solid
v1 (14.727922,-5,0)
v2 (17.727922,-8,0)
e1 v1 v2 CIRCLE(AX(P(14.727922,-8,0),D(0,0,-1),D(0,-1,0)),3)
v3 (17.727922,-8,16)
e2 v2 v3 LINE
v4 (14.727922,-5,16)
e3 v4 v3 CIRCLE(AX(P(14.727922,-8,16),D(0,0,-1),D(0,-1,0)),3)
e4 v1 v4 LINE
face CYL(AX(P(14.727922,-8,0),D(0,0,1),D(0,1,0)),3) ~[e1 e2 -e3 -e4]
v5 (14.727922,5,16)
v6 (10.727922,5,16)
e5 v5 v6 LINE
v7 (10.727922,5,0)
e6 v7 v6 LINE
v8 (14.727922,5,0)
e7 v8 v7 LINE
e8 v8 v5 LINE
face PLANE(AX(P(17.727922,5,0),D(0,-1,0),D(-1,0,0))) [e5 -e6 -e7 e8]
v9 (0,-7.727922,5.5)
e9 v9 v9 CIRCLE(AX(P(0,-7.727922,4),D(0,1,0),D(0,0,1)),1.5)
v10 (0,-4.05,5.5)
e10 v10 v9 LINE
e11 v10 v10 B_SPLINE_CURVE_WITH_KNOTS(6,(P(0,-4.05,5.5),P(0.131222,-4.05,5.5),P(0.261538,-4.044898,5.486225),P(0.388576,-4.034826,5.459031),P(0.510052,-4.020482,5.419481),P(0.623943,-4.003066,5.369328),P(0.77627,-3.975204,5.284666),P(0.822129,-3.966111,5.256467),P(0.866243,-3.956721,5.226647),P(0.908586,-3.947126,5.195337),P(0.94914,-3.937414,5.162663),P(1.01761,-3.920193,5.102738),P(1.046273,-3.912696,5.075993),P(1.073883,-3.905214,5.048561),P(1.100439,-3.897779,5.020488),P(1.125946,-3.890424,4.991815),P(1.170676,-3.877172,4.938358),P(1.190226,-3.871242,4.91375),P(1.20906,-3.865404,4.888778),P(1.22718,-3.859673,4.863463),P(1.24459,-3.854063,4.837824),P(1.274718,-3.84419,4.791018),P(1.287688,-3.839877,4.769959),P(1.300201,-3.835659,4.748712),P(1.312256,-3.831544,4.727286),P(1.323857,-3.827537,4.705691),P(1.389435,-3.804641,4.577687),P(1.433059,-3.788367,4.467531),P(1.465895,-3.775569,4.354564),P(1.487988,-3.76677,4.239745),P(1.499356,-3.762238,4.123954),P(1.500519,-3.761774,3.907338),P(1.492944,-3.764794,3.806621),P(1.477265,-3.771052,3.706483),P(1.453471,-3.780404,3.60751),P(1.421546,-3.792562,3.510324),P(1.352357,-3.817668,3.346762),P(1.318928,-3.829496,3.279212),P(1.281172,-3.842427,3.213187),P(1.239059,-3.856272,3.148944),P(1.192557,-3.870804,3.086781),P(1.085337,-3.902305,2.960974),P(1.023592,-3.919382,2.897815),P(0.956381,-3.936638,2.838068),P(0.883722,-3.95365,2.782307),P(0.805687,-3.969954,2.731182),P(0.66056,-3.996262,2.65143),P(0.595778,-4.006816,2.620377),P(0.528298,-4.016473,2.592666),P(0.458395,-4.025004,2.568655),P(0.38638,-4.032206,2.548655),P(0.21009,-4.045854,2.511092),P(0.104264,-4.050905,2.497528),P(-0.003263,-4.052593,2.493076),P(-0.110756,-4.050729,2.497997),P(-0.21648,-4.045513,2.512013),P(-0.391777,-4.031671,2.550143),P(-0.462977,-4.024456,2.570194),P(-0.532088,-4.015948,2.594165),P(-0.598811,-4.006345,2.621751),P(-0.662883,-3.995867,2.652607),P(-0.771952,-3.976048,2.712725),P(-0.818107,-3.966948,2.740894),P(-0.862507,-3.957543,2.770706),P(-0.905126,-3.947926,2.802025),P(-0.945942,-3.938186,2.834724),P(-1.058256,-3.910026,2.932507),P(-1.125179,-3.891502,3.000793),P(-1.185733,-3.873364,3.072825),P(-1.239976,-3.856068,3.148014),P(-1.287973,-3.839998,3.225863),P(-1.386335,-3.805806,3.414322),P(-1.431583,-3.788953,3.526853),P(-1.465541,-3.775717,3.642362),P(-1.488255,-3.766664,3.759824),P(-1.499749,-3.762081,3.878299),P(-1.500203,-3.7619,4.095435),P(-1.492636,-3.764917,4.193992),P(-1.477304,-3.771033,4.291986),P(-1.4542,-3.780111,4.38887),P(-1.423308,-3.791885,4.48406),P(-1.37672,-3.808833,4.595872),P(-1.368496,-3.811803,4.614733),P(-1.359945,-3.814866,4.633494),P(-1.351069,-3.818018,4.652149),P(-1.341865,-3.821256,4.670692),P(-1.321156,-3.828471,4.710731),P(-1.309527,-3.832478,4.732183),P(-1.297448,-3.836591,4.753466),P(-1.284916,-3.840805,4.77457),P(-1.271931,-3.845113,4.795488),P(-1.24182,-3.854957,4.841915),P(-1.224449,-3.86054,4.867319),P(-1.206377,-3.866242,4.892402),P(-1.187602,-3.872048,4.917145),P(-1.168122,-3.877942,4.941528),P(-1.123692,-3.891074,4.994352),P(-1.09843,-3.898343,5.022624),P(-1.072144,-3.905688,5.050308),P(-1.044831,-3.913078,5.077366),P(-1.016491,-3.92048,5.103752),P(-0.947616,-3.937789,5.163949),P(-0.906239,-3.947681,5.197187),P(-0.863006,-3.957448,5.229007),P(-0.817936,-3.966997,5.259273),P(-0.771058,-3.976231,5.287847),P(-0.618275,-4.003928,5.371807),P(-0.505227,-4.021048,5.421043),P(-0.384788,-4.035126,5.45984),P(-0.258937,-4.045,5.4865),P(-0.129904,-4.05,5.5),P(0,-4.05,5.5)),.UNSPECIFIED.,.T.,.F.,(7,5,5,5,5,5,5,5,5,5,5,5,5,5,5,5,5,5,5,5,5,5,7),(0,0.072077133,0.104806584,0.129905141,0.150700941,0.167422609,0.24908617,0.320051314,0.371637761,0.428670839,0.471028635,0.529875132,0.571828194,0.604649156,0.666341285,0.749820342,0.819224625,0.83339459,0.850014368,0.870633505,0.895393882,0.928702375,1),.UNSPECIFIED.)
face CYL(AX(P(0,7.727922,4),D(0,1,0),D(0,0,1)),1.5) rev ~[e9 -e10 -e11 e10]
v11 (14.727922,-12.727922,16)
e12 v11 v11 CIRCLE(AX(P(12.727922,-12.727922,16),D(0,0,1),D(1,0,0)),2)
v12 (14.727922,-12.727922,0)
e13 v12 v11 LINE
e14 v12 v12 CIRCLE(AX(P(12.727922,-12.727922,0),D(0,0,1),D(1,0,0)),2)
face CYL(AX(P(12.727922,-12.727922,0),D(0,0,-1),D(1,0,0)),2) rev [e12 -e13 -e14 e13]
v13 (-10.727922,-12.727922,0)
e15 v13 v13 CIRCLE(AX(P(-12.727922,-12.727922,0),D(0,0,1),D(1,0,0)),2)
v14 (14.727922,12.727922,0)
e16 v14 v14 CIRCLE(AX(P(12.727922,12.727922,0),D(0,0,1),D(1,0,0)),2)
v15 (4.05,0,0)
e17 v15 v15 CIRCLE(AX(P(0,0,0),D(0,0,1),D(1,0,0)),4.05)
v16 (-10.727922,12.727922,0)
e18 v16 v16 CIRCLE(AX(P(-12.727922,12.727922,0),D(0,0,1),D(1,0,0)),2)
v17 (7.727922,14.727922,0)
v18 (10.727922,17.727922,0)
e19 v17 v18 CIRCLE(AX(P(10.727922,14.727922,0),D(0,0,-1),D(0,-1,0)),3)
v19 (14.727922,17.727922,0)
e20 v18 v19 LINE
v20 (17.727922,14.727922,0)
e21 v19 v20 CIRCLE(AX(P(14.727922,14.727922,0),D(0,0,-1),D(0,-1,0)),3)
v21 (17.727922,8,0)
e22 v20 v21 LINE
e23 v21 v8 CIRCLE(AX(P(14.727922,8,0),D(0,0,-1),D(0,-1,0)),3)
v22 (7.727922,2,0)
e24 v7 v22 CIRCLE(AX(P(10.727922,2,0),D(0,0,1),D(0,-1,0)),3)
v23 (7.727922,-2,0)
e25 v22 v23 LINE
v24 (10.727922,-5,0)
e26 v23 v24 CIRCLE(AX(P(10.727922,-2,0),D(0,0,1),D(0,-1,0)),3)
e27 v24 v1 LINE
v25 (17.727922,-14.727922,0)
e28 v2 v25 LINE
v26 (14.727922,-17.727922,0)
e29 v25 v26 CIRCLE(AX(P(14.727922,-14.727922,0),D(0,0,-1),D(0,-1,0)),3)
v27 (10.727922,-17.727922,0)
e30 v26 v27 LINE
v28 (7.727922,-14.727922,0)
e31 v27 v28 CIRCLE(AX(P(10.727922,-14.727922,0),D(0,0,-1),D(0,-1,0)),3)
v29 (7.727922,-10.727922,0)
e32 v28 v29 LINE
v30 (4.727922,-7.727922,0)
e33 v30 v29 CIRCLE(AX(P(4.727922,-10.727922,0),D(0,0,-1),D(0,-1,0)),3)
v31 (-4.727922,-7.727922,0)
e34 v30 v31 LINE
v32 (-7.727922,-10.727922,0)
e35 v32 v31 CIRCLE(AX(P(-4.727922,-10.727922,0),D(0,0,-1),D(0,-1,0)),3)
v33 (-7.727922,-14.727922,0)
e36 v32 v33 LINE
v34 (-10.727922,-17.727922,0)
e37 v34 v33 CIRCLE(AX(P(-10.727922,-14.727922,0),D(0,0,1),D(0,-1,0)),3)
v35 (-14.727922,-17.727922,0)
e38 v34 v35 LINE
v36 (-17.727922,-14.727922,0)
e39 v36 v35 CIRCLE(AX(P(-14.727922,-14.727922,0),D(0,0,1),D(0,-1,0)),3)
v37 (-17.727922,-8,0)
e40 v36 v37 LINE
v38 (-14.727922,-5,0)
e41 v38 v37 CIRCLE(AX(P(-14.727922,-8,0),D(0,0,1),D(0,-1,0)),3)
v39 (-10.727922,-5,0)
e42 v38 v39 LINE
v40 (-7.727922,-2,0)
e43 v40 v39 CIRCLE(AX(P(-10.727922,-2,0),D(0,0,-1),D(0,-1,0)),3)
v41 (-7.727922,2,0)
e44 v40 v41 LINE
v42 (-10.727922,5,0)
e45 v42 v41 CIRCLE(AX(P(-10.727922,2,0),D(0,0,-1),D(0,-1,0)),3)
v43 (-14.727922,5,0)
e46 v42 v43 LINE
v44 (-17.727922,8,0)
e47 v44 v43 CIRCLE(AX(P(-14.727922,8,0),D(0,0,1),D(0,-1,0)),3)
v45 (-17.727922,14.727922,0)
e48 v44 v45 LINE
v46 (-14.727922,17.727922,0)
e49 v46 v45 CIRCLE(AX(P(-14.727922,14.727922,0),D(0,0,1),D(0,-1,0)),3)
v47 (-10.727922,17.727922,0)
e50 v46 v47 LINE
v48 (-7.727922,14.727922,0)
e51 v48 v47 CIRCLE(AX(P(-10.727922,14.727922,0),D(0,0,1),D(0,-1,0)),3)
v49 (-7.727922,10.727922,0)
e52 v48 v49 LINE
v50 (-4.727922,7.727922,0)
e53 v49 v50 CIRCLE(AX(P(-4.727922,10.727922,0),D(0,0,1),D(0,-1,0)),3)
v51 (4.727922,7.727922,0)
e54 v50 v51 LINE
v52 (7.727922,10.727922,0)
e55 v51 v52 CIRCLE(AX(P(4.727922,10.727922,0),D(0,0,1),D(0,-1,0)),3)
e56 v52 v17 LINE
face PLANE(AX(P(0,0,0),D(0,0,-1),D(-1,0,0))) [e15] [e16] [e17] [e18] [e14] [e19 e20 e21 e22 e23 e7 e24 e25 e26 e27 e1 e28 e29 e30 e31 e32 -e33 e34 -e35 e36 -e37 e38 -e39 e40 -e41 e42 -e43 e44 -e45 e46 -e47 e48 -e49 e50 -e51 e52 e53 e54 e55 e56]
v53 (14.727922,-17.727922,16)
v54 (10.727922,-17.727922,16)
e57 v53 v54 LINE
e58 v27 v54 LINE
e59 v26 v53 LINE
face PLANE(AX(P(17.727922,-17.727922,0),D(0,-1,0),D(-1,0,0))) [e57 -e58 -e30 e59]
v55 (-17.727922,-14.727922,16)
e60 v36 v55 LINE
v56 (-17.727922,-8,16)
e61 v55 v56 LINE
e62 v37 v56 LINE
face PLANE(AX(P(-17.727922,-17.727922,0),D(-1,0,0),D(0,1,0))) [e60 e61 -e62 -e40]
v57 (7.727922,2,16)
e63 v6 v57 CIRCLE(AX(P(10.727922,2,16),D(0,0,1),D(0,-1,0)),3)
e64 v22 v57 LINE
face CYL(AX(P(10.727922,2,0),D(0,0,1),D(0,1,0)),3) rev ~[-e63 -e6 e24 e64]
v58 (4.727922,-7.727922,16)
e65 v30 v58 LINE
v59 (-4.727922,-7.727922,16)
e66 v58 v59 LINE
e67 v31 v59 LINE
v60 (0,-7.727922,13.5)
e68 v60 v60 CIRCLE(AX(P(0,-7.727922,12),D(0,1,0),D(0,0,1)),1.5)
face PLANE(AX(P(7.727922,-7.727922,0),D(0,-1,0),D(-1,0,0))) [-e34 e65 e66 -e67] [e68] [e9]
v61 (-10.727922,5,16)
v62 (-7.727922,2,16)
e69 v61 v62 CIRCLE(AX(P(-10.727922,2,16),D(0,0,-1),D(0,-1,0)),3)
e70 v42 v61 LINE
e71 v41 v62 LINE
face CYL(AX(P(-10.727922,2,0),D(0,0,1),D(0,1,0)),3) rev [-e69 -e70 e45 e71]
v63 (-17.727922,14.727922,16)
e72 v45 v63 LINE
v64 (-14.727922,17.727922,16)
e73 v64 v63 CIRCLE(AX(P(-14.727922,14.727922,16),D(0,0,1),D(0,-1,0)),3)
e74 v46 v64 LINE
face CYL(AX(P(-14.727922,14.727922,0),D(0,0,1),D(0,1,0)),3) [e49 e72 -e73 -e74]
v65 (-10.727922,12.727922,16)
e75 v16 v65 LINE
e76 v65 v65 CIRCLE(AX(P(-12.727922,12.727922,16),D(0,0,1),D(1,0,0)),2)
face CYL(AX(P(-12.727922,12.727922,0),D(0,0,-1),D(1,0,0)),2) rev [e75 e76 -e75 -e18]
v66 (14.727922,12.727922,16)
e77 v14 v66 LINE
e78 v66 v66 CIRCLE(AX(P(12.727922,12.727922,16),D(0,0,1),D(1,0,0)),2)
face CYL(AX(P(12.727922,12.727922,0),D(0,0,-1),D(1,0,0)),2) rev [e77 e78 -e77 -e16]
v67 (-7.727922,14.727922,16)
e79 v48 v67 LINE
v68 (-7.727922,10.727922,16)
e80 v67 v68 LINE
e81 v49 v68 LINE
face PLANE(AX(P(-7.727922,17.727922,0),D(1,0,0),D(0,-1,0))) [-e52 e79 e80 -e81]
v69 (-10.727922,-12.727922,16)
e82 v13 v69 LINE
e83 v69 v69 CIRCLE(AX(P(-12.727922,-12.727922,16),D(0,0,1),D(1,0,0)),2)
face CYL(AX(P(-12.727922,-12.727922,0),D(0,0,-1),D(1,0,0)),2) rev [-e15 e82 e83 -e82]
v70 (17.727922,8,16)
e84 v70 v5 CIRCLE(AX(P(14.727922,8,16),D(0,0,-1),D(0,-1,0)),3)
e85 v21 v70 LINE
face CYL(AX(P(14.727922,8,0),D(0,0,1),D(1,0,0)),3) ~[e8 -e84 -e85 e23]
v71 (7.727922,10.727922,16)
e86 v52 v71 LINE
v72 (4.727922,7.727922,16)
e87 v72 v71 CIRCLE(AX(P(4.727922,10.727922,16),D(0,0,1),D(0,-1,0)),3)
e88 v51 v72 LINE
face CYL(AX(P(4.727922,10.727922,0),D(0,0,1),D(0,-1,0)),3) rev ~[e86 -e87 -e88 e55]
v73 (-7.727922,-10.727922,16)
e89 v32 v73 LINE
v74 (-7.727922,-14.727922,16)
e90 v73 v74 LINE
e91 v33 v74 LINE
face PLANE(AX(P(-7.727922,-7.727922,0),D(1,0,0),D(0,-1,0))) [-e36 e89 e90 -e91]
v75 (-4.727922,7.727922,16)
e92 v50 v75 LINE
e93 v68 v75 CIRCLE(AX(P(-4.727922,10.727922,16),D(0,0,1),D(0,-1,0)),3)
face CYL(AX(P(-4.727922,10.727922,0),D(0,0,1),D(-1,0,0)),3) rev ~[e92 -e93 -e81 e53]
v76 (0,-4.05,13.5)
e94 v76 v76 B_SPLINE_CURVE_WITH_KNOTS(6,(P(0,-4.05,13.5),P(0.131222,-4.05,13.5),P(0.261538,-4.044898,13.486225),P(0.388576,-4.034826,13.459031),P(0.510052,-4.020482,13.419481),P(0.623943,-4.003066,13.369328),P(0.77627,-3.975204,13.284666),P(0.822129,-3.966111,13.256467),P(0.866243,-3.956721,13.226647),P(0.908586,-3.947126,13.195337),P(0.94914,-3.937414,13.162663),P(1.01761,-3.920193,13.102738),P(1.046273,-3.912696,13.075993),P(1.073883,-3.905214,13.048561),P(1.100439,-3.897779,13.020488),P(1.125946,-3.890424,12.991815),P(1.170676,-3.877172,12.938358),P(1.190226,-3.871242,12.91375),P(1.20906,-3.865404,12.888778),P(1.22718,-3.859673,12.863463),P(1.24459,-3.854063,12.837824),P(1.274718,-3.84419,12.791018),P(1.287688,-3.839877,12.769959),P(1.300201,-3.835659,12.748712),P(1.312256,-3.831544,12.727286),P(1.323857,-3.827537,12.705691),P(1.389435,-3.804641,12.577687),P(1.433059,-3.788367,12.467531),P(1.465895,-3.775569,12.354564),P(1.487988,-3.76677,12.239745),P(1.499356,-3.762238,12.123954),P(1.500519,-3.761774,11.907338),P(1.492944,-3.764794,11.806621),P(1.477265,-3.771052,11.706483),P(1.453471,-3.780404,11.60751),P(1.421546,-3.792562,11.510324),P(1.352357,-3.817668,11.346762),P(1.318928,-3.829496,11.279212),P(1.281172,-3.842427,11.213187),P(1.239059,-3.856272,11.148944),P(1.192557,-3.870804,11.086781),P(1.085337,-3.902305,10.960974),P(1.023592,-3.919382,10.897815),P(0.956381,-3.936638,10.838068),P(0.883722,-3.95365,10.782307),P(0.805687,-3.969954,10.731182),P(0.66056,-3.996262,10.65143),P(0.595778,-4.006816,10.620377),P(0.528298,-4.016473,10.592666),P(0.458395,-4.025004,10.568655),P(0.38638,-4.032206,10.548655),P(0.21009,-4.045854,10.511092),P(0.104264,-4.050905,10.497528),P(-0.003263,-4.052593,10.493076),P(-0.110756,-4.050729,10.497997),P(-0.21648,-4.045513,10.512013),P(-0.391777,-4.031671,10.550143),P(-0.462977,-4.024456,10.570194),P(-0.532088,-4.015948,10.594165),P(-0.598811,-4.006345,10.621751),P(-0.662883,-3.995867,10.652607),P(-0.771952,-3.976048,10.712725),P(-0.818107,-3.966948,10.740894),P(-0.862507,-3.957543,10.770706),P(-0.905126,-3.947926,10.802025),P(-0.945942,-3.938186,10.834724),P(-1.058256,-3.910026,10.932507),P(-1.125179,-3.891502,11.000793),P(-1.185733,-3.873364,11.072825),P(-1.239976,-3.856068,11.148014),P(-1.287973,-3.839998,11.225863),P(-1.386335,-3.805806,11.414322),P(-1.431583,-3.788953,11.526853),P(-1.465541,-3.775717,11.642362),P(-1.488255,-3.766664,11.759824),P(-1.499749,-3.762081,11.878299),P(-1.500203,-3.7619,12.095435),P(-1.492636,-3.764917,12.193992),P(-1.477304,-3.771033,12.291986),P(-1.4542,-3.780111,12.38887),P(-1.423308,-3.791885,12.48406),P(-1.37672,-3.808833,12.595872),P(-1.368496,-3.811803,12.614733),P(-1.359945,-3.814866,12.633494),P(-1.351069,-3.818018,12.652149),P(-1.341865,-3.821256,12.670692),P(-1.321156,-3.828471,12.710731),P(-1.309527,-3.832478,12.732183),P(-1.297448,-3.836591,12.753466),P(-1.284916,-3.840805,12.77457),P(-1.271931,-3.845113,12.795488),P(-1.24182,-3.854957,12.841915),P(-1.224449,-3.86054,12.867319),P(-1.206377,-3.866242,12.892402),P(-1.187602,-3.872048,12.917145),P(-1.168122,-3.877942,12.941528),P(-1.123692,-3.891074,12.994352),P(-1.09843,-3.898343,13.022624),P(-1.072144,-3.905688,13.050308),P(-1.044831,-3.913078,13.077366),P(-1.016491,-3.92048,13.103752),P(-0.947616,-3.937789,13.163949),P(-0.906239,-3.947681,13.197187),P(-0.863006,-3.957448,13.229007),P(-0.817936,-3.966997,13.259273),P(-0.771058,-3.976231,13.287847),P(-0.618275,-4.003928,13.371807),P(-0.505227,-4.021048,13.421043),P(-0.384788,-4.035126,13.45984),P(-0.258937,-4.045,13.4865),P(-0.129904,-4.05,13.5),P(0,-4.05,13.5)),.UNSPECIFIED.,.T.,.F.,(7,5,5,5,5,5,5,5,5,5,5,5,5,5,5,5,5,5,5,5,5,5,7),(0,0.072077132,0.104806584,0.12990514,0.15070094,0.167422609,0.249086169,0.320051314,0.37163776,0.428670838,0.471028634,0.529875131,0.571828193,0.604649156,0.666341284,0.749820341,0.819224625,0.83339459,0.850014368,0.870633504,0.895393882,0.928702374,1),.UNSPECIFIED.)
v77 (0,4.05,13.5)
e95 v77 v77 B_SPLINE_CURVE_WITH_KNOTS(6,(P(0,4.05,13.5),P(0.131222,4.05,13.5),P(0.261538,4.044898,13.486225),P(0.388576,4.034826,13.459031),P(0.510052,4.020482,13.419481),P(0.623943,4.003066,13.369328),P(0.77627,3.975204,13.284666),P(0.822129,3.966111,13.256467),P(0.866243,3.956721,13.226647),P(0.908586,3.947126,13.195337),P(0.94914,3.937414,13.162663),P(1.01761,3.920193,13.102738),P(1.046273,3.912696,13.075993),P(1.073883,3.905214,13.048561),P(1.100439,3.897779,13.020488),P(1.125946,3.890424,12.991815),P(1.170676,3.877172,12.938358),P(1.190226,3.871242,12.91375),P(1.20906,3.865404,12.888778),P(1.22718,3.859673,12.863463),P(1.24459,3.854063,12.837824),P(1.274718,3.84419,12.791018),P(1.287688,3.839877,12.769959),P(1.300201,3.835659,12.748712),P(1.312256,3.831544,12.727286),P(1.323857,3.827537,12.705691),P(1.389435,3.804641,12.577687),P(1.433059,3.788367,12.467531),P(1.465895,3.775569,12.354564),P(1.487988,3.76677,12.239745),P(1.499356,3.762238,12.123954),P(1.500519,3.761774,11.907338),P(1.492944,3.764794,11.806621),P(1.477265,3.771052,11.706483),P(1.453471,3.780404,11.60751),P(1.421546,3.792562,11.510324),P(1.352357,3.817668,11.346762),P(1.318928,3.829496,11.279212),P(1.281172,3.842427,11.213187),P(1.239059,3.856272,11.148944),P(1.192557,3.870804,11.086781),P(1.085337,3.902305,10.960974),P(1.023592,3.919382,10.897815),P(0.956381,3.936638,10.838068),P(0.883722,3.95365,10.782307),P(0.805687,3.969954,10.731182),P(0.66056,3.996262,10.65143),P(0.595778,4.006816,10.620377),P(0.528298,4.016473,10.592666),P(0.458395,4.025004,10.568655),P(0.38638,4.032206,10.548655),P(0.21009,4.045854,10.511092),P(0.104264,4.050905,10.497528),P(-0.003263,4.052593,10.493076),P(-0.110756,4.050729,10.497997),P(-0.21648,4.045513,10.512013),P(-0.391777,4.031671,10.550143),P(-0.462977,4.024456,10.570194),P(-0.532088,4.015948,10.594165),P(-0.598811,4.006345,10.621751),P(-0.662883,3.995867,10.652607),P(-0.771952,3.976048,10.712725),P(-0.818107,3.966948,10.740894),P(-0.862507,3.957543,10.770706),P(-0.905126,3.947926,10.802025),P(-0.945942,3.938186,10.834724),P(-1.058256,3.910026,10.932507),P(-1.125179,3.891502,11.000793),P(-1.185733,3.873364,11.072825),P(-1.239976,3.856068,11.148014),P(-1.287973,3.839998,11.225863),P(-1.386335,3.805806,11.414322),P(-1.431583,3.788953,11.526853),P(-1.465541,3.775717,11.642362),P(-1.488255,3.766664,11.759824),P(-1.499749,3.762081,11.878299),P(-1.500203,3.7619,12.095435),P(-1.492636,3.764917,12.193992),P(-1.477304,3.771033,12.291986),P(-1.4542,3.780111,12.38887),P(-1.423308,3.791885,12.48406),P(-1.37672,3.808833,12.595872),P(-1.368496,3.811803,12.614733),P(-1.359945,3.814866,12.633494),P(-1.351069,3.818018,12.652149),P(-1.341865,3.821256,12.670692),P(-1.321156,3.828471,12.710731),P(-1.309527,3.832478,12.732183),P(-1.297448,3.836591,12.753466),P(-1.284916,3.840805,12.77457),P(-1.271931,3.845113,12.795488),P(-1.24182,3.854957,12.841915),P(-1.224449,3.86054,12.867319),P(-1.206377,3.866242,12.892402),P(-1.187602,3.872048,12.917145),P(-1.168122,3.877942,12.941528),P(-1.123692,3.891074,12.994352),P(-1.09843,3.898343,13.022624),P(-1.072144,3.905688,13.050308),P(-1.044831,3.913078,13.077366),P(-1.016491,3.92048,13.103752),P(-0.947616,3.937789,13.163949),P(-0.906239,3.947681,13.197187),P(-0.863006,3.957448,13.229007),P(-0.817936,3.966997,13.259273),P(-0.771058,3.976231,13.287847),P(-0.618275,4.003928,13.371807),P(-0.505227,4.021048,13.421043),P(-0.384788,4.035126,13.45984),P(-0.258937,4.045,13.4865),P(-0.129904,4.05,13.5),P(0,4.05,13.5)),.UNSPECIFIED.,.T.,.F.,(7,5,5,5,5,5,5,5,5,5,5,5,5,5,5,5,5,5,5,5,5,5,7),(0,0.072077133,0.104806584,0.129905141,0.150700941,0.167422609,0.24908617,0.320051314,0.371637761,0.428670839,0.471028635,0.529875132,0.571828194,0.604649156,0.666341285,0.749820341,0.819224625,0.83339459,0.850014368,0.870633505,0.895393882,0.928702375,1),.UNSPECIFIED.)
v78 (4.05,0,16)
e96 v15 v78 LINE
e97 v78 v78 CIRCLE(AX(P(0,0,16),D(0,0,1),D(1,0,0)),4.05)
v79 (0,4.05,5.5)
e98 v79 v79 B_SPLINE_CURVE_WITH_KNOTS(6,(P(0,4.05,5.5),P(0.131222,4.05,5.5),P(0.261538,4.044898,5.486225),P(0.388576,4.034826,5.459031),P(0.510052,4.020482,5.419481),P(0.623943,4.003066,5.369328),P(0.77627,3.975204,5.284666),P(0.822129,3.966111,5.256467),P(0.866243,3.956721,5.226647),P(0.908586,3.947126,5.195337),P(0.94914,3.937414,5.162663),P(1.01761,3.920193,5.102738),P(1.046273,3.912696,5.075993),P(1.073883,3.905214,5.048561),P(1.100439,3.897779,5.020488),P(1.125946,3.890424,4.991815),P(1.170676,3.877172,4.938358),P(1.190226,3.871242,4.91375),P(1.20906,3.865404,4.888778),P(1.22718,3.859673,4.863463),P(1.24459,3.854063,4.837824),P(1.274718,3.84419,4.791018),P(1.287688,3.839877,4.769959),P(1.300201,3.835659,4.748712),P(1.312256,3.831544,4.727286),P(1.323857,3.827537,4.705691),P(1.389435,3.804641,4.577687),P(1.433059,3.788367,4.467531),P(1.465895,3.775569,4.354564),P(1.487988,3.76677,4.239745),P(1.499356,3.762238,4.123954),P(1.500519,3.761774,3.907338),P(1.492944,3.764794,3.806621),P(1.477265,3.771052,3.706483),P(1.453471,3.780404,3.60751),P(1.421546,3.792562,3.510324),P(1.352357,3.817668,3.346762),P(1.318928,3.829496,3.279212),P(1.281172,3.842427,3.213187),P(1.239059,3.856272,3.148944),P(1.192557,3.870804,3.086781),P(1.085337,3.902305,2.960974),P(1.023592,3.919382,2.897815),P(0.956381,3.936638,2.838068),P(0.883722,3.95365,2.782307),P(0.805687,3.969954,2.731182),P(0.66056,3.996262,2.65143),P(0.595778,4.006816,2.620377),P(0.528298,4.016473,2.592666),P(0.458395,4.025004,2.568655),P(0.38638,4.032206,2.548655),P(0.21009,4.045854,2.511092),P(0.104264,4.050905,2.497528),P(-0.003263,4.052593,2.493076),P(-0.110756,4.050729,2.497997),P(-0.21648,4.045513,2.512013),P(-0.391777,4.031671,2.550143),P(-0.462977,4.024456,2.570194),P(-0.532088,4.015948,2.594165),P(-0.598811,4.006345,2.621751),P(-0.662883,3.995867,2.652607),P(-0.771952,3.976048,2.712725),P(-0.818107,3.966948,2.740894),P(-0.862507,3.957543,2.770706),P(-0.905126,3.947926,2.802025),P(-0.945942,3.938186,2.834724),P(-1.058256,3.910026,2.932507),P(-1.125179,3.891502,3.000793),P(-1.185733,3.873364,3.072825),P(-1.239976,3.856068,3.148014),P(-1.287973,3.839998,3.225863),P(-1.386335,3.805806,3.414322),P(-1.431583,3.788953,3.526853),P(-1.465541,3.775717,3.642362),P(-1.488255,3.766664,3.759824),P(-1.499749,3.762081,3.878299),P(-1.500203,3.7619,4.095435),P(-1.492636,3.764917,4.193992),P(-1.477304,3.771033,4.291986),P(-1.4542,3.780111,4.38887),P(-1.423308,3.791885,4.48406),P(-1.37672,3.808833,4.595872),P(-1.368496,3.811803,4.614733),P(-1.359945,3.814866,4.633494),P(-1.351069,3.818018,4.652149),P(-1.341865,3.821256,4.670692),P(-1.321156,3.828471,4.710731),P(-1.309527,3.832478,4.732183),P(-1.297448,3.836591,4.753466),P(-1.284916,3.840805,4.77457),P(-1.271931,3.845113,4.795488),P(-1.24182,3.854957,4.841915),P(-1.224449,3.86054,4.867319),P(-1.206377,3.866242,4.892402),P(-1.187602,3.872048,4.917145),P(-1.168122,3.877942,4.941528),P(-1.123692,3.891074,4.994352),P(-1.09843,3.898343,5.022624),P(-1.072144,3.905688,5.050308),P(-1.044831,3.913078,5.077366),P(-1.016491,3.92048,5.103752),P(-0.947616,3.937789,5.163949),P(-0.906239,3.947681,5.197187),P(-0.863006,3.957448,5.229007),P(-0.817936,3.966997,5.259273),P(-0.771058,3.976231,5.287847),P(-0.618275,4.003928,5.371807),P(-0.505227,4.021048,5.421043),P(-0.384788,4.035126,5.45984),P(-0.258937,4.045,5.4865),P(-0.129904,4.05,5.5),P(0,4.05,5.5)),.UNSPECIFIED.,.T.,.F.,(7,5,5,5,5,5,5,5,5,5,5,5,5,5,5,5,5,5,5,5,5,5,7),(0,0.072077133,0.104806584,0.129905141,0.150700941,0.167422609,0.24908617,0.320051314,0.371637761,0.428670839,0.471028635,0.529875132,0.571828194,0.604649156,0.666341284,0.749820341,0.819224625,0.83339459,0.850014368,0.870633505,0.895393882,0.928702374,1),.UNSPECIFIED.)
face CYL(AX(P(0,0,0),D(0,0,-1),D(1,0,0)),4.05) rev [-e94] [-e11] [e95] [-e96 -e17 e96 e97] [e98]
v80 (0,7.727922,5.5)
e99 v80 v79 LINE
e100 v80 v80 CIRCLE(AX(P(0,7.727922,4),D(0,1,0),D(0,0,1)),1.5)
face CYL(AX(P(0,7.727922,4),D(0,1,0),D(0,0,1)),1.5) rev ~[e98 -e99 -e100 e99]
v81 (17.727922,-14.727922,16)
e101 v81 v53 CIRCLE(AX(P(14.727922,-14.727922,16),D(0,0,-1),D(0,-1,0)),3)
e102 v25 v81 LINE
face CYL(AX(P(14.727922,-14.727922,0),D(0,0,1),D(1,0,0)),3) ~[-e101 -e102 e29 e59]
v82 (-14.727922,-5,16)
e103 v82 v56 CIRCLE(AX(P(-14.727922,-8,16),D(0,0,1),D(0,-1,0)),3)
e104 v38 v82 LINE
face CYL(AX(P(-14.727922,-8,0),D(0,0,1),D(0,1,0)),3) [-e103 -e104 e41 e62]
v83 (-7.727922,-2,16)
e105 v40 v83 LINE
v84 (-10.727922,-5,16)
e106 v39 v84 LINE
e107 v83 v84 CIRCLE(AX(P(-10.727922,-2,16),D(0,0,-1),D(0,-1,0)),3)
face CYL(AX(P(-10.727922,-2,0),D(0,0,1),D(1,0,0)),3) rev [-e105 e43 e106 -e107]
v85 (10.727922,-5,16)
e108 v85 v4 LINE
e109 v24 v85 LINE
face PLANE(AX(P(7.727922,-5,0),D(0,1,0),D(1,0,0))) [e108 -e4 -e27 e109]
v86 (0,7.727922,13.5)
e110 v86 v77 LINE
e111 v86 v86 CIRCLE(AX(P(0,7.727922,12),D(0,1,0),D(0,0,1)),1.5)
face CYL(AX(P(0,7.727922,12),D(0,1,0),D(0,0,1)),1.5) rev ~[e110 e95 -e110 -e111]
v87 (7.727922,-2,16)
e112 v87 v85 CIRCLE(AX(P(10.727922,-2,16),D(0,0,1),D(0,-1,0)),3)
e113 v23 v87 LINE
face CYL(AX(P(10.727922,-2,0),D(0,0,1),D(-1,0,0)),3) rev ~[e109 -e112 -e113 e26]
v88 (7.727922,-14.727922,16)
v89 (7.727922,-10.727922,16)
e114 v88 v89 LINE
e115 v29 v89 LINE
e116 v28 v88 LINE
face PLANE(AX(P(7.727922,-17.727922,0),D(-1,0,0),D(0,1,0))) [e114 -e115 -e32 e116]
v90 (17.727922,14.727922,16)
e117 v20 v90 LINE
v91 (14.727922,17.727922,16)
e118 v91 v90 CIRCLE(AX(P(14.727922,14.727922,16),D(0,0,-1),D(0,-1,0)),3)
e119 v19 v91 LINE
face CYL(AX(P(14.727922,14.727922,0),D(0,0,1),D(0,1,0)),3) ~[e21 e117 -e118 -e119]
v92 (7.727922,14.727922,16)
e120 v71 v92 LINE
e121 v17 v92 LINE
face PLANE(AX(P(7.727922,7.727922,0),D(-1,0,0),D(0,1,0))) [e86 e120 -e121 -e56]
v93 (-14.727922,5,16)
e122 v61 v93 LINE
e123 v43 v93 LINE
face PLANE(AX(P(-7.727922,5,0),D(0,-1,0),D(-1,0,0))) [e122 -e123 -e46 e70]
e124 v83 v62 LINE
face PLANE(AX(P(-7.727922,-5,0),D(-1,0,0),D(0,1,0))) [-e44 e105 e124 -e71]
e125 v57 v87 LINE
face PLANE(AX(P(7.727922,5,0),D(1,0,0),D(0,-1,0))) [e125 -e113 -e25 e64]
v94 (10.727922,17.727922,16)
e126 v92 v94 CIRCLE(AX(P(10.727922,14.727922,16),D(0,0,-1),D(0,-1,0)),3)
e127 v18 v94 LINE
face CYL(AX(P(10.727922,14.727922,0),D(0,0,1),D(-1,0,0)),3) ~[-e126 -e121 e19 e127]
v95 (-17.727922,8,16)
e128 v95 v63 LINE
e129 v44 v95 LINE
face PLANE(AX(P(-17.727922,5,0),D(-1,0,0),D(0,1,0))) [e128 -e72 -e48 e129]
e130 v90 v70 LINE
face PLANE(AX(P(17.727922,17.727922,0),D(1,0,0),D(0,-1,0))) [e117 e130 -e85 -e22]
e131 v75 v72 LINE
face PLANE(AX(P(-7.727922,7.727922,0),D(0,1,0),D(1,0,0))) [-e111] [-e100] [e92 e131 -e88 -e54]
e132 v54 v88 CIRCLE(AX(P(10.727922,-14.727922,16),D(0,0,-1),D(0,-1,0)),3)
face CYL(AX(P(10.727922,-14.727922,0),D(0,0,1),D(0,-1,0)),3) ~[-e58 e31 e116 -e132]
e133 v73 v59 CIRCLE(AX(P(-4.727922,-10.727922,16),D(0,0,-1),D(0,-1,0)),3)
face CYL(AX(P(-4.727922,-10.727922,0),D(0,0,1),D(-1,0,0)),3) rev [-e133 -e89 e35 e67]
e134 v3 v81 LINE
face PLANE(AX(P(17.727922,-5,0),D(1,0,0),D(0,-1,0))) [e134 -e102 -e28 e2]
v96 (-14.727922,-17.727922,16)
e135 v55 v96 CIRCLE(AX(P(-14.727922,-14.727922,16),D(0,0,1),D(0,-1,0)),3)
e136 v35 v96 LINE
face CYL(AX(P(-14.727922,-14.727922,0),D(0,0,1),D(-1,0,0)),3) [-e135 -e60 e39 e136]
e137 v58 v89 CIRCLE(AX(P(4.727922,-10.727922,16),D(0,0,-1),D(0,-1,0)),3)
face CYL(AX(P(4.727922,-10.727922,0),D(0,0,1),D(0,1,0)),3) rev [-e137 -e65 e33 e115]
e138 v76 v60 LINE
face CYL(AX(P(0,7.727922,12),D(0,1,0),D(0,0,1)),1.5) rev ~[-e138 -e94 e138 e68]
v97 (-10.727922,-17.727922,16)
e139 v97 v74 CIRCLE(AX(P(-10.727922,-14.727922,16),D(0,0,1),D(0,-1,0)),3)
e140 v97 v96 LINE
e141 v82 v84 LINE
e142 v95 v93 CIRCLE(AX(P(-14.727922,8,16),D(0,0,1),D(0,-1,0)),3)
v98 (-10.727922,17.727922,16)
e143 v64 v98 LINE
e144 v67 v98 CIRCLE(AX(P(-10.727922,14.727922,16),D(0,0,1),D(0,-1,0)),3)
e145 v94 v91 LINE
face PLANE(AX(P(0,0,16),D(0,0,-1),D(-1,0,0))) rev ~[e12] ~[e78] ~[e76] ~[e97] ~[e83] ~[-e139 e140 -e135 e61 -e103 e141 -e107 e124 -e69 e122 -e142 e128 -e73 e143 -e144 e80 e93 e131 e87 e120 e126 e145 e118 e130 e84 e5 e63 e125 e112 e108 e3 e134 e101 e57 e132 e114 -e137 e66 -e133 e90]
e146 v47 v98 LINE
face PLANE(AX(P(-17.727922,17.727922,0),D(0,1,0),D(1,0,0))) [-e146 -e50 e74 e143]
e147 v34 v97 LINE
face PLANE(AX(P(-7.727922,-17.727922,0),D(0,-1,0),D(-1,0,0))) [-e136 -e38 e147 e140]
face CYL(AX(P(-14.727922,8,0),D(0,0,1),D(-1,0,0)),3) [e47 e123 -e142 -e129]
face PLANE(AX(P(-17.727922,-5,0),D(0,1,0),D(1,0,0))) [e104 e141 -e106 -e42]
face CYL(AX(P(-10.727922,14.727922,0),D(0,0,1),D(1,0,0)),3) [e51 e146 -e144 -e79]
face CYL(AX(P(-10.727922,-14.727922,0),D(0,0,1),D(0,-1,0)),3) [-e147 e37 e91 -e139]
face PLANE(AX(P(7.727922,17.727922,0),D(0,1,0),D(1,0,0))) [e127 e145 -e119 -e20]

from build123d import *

# Parameters (mm, degrees)
SKETCH_1_R          = 2
SKETCH_1_R_2        = 4.05
EXTRUDE_1_DEPTH     = 16
FILLET_3_R          = 3
SKETCH_3_R          = 1.5
CUT_EXTRUDE_2_DEPTH = 35.903856816


with BuildPart() as part:
    # ｽｹｯﾁ1 → ﾎﾞｽ - 押し出し1 (new body)
    with BuildSketch(Plane.XY):
        Polygon((-7.727922061, 17.727922061), (-7.727922061, 7.727922061), (7.727922061, 7.727922061), (7.727922061, 17.727922061), (17.727922061, 17.727922061), (17.727922061, 5), (7.727922061, 5), (7.727922061, -5), (17.727922061, -5), (17.727922061, -17.727922061), (7.727922061, -17.727922061), (7.727922061, -7.727922061), (-7.727922061, -7.727922061), (-7.727922061, -17.727922061), (-17.727922061, -17.727922061), (-17.727922061, -5), (-7.727922061, -5), (-7.727922061, 5), (-17.727922061, 5), (-17.727922061, 17.727922061), align=None)
        with Locations((-12.727922061, 12.727922061)):
            Circle(SKETCH_1_R, mode=Mode.SUBTRACT)
        with Locations((12.727922061, 12.727922061)):
            Circle(SKETCH_1_R, mode=Mode.SUBTRACT)
        with Locations((12.727922061, -12.727922061)):
            Circle(SKETCH_1_R, mode=Mode.SUBTRACT)
        with Locations((-12.727922061, -12.727922061)):
            Circle(SKETCH_1_R, mode=Mode.SUBTRACT)
        Circle(SKETCH_1_R_2, mode=Mode.SUBTRACT)
    extrude(amount=EXTRUDE_1_DEPTH)

    # ﾌｨﾚｯﾄ3
    fillet_3_edges = [part.edges().sort_by_distance(p)[0] for p in [
        (-17.727922061, 17.727922061, 8),
        (-7.727922061, 17.727922061, 8),
        (-7.727922061, 7.727922061, 8),
        (7.727922061, 7.727922061, 8),
        (7.727922061, 17.727922061, 8),
        (17.727922061, 17.727922061, 8),
        (17.727922061, 5, 8),
        (7.727922061, 5, 8),
        (7.727922061, -5, 8),
        (17.727922061, -5, 8),
        (17.727922061, -17.727922061, 8),
        (7.727922061, -17.727922061, 8),
        (7.727922061, -7.727922061, 8),
        (-7.727922061, -7.727922061, 8),
        (-7.727922061, -17.727922061, 8),
        (-17.727922061, -17.727922061, 8),
        (-17.727922061, -5, 8),
        (-7.727922061, -5, 8),
        (-7.727922061, 5, 8),
        (-17.727922061, 5, 8),
    ]]
    fillet(fillet_3_edges, radius=FILLET_3_R)

    # ｽｹｯﾁ3 → ｶｯﾄ - 押し出し2 (cut, through all)
    with BuildSketch(Plane(origin=(0, 7.727922061, 0), x_dir=(1, 0, 0), z_dir=(0, 1, 0))):
        with Locations(Location((0, -4, 0), (0, 0, 270))):
            Circle(SKETCH_3_R)
        with Locations(Location((0, -12, 0), (0, 0, 270))):
            Circle(SKETCH_3_R)
    extrude(amount=-CUT_EXTRUDE_2_DEPTH, mode=Mode.SUBTRACT)


solid = part.part
